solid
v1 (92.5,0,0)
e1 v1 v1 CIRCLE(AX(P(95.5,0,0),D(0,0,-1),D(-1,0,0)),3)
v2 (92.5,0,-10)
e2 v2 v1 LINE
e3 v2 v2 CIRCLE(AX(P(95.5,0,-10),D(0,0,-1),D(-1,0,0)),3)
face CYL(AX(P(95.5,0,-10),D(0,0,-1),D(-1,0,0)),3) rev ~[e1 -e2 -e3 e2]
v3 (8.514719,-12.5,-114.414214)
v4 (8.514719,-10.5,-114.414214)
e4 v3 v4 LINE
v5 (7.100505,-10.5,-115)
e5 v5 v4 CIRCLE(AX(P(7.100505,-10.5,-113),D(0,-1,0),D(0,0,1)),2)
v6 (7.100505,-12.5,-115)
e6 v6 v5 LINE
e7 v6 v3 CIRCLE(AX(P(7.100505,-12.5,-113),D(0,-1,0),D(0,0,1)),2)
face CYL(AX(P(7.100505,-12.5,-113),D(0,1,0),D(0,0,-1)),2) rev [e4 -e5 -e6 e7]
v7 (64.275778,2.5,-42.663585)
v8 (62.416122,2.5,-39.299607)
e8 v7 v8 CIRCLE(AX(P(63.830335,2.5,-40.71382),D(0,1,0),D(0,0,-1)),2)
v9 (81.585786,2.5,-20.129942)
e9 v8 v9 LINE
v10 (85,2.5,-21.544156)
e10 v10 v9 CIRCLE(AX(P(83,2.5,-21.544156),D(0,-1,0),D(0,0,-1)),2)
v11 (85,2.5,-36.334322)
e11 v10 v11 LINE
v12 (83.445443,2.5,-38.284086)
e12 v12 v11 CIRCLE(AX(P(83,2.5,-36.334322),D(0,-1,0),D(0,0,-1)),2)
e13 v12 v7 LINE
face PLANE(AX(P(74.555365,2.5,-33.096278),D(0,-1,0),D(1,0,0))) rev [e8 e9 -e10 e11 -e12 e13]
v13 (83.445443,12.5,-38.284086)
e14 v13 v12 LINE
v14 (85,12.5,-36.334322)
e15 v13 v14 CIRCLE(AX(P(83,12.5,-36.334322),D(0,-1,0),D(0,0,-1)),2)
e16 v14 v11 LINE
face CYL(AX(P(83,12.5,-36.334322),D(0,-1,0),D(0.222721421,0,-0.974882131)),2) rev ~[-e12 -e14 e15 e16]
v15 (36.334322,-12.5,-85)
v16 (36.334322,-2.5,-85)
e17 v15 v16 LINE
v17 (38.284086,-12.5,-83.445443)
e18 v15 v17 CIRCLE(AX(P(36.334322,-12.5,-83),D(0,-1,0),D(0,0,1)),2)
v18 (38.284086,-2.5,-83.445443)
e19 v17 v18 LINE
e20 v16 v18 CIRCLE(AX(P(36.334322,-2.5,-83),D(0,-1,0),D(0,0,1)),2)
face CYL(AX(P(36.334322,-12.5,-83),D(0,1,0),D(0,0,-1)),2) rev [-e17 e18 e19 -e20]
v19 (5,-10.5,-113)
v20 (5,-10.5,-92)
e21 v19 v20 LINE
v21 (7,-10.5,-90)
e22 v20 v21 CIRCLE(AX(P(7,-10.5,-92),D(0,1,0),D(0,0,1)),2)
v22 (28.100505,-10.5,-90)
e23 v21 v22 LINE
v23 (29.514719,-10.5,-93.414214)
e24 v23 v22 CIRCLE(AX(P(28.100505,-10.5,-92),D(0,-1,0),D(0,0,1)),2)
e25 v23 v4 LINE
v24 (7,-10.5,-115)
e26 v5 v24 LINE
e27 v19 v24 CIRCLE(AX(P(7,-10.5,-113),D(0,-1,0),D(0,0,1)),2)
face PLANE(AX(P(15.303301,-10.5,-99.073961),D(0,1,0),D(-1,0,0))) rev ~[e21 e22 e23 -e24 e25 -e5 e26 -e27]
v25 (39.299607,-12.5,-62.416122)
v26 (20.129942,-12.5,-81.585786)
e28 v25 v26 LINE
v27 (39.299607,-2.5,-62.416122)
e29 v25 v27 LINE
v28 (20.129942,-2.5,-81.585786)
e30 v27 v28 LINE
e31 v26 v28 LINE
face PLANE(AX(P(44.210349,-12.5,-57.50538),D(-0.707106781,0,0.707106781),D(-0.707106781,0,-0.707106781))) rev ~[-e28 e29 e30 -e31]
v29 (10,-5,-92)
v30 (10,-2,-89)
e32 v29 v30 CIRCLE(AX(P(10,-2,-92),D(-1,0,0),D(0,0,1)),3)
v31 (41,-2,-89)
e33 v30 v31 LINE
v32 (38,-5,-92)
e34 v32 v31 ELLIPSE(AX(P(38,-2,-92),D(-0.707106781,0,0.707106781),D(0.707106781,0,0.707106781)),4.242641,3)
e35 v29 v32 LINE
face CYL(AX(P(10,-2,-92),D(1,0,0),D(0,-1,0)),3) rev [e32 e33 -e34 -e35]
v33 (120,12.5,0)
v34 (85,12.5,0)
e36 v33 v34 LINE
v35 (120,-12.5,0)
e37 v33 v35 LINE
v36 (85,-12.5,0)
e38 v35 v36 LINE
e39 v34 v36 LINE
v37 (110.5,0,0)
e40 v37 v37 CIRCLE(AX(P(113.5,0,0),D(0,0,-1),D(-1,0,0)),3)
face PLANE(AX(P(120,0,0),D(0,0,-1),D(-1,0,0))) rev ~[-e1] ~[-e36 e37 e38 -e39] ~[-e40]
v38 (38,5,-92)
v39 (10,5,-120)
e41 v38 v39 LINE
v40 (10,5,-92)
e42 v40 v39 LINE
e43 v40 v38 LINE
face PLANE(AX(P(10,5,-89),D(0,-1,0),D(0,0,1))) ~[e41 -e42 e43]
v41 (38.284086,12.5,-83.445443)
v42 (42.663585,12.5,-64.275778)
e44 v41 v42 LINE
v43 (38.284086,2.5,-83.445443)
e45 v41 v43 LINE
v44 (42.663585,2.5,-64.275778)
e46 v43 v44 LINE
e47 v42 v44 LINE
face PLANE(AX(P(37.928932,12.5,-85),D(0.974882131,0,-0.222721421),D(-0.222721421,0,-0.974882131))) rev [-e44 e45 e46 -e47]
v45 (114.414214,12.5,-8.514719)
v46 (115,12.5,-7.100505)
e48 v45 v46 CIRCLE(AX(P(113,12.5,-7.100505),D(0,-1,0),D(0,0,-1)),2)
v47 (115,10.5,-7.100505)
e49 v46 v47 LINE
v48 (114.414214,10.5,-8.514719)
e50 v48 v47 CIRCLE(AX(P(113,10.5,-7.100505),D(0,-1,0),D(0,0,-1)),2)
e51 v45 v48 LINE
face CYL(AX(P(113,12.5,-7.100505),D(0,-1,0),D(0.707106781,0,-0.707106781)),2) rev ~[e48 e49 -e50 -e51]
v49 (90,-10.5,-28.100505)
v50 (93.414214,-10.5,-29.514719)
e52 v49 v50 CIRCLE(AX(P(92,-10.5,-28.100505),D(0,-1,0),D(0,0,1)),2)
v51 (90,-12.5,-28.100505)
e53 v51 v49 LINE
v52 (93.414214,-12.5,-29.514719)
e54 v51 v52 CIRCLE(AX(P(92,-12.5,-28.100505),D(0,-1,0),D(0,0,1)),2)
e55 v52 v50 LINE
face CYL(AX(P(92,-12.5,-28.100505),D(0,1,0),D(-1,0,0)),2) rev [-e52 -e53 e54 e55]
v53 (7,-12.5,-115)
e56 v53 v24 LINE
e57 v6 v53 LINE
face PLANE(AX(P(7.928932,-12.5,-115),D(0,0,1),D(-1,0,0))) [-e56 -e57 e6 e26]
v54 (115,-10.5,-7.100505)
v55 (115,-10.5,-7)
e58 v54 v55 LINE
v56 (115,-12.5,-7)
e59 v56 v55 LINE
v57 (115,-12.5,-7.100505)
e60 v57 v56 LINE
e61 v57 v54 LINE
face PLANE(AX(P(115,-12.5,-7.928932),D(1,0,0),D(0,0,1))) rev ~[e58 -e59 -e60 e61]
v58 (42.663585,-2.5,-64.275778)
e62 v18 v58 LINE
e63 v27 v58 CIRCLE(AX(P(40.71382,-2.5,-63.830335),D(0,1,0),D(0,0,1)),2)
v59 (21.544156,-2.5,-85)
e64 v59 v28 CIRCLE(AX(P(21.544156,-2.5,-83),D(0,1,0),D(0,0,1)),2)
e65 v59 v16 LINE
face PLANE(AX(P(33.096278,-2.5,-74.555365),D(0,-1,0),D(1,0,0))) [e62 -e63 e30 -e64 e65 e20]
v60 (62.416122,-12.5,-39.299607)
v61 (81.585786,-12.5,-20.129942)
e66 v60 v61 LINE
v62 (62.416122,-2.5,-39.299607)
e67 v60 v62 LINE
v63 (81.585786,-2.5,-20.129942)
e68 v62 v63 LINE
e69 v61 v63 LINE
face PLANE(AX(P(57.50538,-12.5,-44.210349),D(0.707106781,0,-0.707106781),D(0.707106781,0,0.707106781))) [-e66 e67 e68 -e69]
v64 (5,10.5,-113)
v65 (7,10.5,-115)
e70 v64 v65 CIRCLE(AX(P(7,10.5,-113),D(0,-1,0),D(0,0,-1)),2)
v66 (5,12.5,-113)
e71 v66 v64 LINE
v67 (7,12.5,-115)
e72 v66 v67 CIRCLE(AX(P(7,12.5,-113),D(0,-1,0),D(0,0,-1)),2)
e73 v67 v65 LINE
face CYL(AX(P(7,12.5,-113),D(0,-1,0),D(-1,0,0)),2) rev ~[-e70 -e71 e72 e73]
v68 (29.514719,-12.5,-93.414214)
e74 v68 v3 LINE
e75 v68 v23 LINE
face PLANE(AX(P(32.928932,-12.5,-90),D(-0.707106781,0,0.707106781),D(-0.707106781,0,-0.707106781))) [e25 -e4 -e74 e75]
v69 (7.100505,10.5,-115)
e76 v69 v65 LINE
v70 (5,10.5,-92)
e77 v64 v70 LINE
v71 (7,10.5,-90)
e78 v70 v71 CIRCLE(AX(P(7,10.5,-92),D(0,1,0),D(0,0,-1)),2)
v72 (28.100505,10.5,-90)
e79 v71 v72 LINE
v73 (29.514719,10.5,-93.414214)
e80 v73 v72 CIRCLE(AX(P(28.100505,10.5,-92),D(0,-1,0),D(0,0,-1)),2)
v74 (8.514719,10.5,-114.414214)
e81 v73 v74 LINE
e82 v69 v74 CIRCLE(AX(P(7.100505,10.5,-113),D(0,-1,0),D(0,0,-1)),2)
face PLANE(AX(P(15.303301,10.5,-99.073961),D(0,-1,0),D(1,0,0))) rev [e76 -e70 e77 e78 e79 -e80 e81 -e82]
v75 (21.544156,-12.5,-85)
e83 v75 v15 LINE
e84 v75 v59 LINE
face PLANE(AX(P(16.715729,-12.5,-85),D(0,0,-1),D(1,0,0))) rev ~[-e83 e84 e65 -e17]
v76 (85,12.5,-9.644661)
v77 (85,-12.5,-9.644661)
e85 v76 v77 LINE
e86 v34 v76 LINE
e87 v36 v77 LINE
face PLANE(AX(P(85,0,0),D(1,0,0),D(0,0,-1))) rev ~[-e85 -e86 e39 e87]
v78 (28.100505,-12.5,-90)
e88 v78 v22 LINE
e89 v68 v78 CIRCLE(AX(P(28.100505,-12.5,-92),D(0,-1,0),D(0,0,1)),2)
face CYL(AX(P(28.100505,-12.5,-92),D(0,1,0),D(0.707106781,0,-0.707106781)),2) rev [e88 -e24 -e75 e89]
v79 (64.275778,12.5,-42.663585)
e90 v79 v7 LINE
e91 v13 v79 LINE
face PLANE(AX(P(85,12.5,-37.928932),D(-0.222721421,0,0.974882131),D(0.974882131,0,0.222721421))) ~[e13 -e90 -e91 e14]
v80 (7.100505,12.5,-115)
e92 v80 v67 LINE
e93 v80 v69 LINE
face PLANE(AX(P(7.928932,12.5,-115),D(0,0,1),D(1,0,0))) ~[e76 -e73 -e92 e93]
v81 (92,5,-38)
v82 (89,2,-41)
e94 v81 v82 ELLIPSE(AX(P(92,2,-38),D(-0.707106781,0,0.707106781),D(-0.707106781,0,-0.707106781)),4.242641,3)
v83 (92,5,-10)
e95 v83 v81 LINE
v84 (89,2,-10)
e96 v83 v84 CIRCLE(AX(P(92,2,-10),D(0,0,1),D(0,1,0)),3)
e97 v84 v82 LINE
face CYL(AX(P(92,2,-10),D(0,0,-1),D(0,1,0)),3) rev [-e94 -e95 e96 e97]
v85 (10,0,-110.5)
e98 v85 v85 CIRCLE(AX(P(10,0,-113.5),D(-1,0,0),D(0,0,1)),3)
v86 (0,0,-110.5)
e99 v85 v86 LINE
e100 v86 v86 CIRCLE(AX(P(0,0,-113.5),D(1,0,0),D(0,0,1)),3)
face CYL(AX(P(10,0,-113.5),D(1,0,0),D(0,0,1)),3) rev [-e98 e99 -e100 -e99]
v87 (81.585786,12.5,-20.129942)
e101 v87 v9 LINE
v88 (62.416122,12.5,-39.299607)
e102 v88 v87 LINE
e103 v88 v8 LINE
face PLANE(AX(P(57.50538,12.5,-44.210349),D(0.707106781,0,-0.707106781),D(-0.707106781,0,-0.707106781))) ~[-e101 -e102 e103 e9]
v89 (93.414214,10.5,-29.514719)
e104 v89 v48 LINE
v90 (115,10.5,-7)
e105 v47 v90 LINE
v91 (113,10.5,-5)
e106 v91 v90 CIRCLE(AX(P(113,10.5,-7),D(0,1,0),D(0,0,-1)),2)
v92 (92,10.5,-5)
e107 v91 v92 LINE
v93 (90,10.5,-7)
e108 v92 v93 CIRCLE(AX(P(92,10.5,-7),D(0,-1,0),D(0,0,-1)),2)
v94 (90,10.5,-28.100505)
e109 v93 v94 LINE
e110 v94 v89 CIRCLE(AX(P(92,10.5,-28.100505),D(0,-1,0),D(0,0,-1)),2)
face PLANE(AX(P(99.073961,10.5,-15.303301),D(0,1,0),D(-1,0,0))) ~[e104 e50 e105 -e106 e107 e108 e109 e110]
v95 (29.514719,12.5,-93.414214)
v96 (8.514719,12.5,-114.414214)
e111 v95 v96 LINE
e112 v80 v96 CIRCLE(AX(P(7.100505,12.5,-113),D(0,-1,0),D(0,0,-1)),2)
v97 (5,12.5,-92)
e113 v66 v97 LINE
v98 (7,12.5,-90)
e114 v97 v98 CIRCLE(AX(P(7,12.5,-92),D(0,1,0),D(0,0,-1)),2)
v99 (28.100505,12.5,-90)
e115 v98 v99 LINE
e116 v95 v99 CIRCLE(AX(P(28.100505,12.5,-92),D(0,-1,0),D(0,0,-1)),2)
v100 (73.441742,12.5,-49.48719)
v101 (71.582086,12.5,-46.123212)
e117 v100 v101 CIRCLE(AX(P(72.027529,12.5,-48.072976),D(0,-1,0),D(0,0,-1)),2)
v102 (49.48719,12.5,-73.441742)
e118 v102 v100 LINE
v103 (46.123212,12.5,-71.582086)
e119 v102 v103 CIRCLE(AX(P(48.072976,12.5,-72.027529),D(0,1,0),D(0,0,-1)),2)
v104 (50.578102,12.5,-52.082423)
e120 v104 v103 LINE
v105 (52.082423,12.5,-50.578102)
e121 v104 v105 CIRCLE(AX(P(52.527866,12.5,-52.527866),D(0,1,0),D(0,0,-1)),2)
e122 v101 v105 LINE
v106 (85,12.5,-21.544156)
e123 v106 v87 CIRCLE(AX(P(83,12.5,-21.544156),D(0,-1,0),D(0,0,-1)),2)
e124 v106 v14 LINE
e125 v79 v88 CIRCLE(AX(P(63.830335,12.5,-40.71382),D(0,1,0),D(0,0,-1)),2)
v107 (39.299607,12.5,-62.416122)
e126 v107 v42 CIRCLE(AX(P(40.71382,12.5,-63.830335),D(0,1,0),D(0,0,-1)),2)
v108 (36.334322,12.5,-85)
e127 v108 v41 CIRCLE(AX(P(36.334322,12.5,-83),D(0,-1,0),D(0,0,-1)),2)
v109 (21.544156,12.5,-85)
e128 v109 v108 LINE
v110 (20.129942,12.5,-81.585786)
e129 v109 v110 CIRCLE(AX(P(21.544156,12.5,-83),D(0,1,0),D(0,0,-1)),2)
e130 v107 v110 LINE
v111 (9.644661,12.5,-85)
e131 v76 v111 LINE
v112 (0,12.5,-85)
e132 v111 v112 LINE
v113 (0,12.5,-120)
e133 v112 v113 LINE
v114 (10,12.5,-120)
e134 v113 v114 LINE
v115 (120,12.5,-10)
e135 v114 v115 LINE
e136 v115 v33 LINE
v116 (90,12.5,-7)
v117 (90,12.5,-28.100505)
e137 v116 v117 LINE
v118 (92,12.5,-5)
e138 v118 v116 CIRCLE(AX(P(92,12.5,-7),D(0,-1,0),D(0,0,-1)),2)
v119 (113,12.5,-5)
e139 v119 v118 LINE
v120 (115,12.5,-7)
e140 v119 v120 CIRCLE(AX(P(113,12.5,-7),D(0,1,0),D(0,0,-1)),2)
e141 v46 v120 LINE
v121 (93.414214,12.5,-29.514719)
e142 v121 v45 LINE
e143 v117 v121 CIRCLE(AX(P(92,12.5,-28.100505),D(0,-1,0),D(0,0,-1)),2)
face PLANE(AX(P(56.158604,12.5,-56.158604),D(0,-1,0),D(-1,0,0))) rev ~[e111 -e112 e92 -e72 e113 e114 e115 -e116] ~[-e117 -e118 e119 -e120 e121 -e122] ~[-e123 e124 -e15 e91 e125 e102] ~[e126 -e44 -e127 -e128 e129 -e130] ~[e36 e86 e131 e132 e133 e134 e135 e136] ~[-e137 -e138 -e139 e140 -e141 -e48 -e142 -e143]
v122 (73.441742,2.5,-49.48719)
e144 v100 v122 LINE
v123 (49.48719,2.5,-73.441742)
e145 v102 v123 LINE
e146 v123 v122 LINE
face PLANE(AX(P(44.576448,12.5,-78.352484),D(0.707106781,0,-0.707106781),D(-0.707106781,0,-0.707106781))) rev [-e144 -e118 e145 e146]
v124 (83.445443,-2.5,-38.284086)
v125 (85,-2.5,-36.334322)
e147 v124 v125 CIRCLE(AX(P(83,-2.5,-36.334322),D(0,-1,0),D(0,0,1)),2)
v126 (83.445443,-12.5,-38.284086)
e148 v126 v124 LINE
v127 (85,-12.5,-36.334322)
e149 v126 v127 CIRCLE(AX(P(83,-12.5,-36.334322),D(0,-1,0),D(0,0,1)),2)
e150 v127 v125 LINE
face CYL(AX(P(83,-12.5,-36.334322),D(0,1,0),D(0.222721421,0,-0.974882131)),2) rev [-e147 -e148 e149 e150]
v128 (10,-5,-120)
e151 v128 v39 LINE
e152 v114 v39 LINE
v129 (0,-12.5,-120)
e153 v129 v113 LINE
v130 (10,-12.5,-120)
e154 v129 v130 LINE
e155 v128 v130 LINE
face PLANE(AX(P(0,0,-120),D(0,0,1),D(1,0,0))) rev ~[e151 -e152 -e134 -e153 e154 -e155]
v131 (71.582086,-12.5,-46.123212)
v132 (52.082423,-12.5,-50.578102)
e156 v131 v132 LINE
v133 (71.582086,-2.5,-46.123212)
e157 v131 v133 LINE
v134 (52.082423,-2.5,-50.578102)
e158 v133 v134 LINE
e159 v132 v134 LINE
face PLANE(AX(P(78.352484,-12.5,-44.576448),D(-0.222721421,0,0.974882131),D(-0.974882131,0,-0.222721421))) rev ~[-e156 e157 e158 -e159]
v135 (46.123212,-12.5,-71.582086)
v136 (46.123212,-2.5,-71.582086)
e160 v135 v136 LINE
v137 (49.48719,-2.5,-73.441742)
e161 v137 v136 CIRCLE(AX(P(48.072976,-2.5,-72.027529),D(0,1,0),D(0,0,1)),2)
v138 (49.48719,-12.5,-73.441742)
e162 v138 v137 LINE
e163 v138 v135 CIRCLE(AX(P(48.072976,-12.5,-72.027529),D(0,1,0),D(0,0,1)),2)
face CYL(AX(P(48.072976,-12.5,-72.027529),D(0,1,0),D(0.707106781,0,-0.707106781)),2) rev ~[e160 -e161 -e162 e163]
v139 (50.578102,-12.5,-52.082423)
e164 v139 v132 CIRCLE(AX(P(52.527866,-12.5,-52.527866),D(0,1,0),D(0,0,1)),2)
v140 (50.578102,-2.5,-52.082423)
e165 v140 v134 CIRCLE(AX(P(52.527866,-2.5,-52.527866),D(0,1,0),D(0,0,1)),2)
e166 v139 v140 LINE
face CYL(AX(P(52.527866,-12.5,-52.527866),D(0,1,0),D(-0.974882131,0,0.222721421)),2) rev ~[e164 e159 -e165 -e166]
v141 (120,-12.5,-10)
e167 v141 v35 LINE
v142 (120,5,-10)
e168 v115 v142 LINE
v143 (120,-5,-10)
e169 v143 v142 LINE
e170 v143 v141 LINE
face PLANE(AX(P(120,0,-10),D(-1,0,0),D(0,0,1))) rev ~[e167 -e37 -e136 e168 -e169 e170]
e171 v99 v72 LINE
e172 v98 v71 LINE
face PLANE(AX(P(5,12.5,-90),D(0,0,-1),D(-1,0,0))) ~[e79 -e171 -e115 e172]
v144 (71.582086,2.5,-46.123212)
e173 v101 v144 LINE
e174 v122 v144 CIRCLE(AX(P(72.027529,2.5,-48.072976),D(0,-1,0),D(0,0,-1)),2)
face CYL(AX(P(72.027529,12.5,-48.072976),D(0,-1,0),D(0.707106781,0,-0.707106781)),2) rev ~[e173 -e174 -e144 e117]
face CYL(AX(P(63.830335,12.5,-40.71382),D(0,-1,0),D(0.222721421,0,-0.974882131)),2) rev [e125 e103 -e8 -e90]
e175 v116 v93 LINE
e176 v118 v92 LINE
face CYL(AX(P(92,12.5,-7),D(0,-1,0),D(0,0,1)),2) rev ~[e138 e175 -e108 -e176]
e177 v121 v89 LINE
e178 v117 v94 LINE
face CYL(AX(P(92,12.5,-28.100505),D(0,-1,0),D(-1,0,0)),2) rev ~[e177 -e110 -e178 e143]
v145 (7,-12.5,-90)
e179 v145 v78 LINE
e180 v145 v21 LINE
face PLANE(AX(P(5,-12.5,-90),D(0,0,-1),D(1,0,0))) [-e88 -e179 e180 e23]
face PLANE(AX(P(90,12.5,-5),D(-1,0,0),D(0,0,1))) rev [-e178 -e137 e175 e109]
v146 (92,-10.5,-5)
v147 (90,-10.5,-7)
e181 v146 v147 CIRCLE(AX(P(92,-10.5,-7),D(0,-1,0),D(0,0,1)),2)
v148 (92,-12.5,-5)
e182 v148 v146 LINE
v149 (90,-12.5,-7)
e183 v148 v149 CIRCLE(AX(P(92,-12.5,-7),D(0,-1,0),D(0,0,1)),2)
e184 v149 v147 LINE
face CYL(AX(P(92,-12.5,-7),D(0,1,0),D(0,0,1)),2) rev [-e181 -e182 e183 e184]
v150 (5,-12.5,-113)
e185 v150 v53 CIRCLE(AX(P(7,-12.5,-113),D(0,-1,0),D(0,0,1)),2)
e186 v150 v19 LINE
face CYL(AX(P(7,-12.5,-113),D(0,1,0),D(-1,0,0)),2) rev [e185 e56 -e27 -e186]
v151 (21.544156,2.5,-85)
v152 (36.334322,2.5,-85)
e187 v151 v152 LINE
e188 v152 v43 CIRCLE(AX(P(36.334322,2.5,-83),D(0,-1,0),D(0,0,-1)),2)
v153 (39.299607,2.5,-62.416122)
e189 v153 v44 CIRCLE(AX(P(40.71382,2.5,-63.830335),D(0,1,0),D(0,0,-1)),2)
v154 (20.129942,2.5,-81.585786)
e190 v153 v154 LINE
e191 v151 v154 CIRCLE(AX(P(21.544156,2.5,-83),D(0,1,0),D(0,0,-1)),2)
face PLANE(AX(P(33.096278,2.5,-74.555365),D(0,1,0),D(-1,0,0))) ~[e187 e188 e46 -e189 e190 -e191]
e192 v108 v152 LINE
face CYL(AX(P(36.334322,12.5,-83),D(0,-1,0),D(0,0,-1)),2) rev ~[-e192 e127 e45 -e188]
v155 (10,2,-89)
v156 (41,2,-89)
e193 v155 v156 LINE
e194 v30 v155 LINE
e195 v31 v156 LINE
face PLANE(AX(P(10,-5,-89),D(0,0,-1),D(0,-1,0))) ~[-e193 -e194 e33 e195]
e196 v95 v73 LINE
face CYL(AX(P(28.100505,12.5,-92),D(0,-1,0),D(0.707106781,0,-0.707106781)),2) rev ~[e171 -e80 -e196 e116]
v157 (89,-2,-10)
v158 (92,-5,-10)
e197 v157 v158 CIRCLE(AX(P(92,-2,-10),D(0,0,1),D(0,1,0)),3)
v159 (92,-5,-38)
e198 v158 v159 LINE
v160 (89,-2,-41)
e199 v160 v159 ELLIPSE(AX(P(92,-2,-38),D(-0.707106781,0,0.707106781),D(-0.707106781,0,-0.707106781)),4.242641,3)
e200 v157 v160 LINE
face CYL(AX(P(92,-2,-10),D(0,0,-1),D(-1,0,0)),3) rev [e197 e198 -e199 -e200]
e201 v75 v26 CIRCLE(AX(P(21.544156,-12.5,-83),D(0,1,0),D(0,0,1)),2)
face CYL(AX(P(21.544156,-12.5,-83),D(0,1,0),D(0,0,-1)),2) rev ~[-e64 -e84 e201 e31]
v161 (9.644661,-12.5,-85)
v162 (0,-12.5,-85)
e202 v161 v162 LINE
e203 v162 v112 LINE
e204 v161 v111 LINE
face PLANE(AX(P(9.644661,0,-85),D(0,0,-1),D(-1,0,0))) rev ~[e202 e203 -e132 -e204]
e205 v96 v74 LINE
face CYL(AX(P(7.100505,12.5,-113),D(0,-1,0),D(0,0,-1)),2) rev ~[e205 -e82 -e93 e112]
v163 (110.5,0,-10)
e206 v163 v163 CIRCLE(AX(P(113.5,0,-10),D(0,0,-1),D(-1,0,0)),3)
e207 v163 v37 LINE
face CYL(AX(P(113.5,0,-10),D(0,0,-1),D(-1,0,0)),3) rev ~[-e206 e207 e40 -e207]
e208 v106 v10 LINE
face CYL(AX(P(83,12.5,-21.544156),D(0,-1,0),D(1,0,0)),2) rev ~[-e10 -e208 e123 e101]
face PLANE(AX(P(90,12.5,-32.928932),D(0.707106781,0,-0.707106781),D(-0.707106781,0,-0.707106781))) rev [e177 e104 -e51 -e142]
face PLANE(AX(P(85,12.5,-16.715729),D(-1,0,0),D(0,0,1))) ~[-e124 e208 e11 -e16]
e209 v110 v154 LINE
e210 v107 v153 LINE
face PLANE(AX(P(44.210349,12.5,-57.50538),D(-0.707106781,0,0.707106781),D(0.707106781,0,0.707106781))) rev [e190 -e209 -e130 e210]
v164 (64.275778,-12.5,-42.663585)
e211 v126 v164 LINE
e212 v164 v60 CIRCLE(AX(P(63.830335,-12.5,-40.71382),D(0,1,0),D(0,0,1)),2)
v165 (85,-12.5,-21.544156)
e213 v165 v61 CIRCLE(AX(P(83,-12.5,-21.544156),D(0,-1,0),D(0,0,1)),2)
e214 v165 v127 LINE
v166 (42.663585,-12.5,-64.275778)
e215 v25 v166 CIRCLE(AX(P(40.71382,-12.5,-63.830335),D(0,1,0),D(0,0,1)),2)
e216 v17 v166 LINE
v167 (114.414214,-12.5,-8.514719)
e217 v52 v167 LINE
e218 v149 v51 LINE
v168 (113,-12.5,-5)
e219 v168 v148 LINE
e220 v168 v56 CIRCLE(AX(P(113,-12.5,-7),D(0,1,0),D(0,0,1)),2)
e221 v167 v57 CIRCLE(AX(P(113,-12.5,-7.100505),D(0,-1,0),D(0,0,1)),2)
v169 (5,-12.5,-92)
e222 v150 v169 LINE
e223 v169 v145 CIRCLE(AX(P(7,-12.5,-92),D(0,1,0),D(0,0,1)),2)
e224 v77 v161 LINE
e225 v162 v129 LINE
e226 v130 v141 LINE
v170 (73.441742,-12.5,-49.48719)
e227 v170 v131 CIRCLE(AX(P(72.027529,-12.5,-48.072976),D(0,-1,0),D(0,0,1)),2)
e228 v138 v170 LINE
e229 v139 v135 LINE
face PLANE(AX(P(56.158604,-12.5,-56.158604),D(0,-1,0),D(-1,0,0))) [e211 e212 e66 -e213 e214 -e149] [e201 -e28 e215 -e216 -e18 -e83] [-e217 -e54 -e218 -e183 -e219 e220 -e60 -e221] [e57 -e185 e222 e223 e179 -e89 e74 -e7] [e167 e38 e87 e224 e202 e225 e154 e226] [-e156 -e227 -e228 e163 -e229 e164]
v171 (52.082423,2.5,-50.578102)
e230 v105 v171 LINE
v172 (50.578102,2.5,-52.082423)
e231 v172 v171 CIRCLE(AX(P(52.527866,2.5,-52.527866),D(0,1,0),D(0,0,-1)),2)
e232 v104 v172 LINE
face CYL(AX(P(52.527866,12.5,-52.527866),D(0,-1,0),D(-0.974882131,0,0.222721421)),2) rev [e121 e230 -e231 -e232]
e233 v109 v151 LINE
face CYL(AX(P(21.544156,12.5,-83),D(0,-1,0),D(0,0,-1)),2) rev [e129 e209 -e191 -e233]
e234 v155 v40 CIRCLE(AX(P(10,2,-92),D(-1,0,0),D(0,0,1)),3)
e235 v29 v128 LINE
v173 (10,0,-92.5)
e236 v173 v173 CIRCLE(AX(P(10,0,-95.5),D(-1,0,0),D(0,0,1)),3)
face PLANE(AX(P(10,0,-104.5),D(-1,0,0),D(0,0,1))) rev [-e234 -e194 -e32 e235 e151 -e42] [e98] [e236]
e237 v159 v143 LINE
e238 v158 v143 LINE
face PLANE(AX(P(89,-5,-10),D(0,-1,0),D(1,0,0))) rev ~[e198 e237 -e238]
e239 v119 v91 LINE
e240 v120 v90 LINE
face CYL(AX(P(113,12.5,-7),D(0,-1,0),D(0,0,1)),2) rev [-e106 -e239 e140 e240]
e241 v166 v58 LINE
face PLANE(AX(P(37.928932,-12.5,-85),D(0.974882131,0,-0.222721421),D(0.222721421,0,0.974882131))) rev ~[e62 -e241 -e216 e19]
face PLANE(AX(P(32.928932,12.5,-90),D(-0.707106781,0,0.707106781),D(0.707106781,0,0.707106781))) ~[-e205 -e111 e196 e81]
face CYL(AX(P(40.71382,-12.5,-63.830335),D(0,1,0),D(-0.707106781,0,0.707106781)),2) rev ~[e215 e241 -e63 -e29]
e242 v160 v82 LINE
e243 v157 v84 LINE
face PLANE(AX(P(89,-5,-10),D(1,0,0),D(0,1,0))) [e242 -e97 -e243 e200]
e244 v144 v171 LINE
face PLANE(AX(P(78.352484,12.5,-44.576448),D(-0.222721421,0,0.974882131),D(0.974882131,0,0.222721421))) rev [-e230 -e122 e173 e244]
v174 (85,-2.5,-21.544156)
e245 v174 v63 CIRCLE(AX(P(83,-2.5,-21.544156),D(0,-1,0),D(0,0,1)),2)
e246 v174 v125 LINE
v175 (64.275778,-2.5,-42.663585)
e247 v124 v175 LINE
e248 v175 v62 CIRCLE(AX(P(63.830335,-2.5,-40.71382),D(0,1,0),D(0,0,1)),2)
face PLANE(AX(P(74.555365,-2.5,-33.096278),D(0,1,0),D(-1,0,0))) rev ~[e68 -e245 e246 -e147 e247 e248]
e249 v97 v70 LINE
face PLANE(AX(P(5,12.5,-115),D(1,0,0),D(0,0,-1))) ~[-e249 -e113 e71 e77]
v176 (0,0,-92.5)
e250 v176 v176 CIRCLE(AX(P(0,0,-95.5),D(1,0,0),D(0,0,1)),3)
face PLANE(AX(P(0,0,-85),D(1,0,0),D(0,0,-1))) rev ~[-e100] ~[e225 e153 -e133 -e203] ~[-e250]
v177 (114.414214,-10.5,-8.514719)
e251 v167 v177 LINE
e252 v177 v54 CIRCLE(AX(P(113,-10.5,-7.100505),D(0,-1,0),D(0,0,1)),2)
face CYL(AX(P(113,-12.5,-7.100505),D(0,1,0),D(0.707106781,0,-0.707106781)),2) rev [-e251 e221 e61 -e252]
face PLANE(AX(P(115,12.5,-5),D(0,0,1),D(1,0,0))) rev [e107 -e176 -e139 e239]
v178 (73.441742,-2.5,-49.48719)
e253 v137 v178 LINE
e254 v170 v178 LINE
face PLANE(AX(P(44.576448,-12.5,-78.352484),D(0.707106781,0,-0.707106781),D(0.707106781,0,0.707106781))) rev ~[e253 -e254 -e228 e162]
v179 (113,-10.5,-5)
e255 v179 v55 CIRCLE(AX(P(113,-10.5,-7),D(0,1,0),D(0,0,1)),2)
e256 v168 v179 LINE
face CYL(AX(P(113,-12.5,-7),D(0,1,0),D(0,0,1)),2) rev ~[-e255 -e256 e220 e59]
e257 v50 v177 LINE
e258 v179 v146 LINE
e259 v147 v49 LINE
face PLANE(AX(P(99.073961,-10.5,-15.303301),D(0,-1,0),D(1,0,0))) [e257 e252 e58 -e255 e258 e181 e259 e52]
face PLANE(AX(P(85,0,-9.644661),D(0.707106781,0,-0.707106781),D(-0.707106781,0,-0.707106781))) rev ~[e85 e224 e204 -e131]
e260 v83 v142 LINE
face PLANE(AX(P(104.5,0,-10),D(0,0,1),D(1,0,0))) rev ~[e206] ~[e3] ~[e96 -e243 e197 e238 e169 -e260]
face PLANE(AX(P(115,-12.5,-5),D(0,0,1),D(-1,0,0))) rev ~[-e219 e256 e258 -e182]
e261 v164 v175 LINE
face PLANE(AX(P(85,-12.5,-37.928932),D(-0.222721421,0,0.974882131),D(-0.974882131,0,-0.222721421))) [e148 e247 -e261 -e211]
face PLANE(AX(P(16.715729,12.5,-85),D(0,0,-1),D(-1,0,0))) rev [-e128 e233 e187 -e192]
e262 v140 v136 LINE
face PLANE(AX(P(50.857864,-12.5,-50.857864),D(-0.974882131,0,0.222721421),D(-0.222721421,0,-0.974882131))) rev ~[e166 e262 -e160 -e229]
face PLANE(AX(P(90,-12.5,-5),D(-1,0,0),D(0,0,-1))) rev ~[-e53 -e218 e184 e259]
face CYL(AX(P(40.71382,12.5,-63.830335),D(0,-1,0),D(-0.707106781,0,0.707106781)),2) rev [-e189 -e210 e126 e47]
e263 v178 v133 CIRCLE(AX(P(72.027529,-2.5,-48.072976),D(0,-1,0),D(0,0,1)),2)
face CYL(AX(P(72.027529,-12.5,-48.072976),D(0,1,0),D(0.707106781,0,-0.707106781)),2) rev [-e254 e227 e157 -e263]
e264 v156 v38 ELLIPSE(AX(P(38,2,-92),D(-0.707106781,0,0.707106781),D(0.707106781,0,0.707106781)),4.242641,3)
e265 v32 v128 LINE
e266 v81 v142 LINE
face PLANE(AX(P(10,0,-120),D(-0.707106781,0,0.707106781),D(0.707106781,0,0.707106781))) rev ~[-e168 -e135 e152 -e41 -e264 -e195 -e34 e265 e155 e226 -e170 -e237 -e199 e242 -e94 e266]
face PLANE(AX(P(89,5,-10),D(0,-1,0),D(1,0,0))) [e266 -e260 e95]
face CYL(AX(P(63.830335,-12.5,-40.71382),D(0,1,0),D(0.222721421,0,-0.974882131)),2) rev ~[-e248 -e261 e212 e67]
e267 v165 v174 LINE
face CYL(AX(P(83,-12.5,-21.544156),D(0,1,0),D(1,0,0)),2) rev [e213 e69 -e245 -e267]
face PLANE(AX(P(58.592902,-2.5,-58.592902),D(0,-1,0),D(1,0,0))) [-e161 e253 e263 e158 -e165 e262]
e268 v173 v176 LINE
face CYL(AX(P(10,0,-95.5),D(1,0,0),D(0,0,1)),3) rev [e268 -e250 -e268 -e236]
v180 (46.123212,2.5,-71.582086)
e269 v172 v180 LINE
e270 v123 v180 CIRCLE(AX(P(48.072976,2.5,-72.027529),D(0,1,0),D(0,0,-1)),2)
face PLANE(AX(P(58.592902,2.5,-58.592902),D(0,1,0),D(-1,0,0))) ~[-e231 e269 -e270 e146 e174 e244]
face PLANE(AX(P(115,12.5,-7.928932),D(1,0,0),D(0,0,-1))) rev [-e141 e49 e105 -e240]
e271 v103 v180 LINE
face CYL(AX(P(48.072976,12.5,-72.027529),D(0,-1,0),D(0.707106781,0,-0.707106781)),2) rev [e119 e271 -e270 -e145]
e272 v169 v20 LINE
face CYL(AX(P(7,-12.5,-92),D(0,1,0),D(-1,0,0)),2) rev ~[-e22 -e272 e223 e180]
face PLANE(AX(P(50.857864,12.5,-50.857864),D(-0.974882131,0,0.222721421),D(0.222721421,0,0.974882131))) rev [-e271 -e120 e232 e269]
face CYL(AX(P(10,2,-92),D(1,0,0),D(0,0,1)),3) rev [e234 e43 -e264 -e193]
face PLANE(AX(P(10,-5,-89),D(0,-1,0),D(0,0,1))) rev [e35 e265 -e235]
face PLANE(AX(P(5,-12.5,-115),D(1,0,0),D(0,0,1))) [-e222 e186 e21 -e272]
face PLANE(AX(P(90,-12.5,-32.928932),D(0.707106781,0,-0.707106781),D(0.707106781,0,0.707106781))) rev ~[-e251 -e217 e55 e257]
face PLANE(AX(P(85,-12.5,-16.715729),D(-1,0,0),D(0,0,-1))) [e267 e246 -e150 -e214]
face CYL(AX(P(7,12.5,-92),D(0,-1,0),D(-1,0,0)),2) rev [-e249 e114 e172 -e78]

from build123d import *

# Parameters (mm, degrees)
BOSS_EXTRUDE1_DEPTH  = 12.5
CUT_EXTRUDE1_START   = -10
SKETCH2_W            = 31
SKETCH2_H            = 10
CUT_EXTRUDE1_DEPTH   = 161.165360752
CUT_EXTRUDE2_DEPTH   = 10
CUT_EXTRUDE3_DEPTH   = 2
FILLET3_R            = 2
FILLET3_OF_MIRROR2_R = 2
SKETCH6_R            = 3
CUT_EXTRUDE5_DEPTH   = 164.267418673
FILLET4_R            = 3
FILLET4_OF_MIRROR3_R = 3


with BuildPart() as part:
    # Sketch1 → Boss-Extrude1 (new, symmetric)
    with BuildSketch(Plane(origin=(0, 0, 0), x_dir=(1, 0, 0), z_dir=(0, 1, 0))):
        Polygon((0, 120), (10, 120), (120, 10), (120, 0), (85, 0), (85, 9.644660941), (9.644660941, 85), (0, 85), align=None)
    extrude(amount=BOSS_EXTRUDE1_DEPTH, both=True)

    # Sketch2 → Cut-Extrude1 (cut, through all)
    with BuildSketch(Plane.XY.offset(CUT_EXTRUDE1_START)):
        with Locations((104.5, 0)):
            Rectangle(SKETCH2_W, SKETCH2_H)
    cut_extrude1 = extrude(amount=-CUT_EXTRUDE1_DEPTH, mode=Mode.SUBTRACT)

    # Sketch3 → Cut-Extrude2 (cut)
    with BuildSketch(Plane.XZ.offset(12.5)):
        Polygon((57.505379907, -44.210348845), (85, -16.715728753), (85, -37.928932188), align=None)
        Polygon((16.715728753, -85), (37.928932188, -85), (44.210348845, -57.505379907), align=None)
        Polygon((44.576447719, -78.352484469), (78.352484469, -44.576447719), (50.857864376, -50.857864376), align=None)
    cut_extrude2 = extrude(amount=-CUT_EXTRUDE2_DEPTH, mode=Mode.SUBTRACT)

    # Sketch4 → Cut-Extrude3 (cut)
    with BuildSketch(Plane.XZ.offset(12.5)):
        Polygon((5, -90), (32.928932188, -90), (7.928932188, -115), (5, -115), align=None)
        Polygon((115, -5), (90, -5), (90, -32.928932188), (115, -7.928932188), align=None)
    cut_extrude3 = extrude(amount=-CUT_EXTRUDE3_DEPTH, mode=Mode.SUBTRACT)

    # Fillet3
    fillet3_edges = [part.edges().sort_by_distance(p)[0] for p in [
        (16.715728753, -7.5, -85),
        (44.210348845, -7.5, -57.505379907),
        (37.928932188, -7.5, -85),
        (50.857864376, -7.5, -50.857864376),
        (78.352484469, -7.5, -44.576447719),
        (44.576447719, -7.5, -78.352484469),
        (85, -7.5, -37.928932188),
        (57.505379907, -7.5, -44.210348845),
        (85, -7.5, -16.715728753),
        (5, -11.5, -115),
        (5, -11.5, -90),
        (32.928932188, -11.5, -90),
        (7.928932188, -11.5, -115),
        (90, -11.5, -32.928932188),
        (90, -11.5, -5),
        (115, -11.5, -5),
        (115, -11.5, -7.928932188),
    ]]
    fillet(fillet3_edges, radius=FILLET3_R)

    # Mirror2: Cut-Extrude2, Cut-Extrude3 across plane
    add(cut_extrude2.mirror(Plane.ZX), mode=Mode.SUBTRACT)
    add(cut_extrude3.mirror(Plane.ZX), mode=Mode.SUBTRACT)

    # Fillet3 of Mirror2
    fillet3_of_mirror2_edges = [part.edges().sort_by_distance(p)[0] for p in [
        (16.715728753, 7.5, -85),
        (44.210348845, 7.5, -57.505379907),
        (37.928932188, 7.5, -85),
        (50.857864376, 7.5, -50.857864376),
        (78.352484469, 7.5, -44.576447719),
        (44.576447719, 7.5, -78.352484469),
        (85, 7.5, -37.928932188),
        (57.505379907, 7.5, -44.210348845),
        (85, 7.5, -16.715728753),
        (5, 11.5, -115),
        (5, 11.5, -90),
        (32.928932188, 11.5, -90),
        (7.928932188, 11.5, -115),
        (90, 11.5, -32.928932188),
        (90, 11.5, -5),
        (115, 11.5, -5),
        (115, 11.5, -7.928932188),
    ]]
    fillet(fillet3_of_mirror2_edges, radius=FILLET3_OF_MIRROR2_R)

    # Sketch6 → Cut-Extrude5 (cut, through all)
    with BuildSketch(Plane(origin=(0, 0, -10), x_dir=(-1, 0, 0), z_dir=(0, 0, -1))):
        with Locations((-113.5, 0)):
            Circle(SKETCH6_R)
        with Locations((-95.5, 0)):
            Circle(SKETCH6_R)
    cut_extrude5 = extrude(amount=-CUT_EXTRUDE5_DEPTH, mode=Mode.SUBTRACT)

    # Fillet4
    fillet4_edges = [part.edges().sort_by_distance(p)[0] for p in [
        (89, -5, -25.5),
        (89, 5, -25.5),
    ]]
    fillet(fillet4_edges, radius=FILLET4_R)

    # Mirror3: Cut-Extrude1, Cut-Extrude5 across plane
    add(cut_extrude1.mirror(Plane(origin=(0, 0, 0), x_dir=(-0.7071067811865475, 0, 0.7071067811865477), z_dir=(0.7071067811865476, 0, 0.7071067811865475))), mode=Mode.SUBTRACT)
    add(cut_extrude5.mirror(Plane(origin=(0, 0, 0), x_dir=(-0.7071067811865475, 0, 0.7071067811865477), z_dir=(0.7071067811865476, 0, 0.7071067811865475))), mode=Mode.SUBTRACT)

    # Fillet4 of Mirror3
    fillet4_of_mirror3_edges = [part.edges().sort_by_distance(p)[0] for p in [
        (25.5, -5, -89),
        (25.5, 5, -89),
    ]]
    fillet(fillet4_of_mirror3_edges, radius=FILLET4_OF_MIRROR3_R)


solid = part.part
